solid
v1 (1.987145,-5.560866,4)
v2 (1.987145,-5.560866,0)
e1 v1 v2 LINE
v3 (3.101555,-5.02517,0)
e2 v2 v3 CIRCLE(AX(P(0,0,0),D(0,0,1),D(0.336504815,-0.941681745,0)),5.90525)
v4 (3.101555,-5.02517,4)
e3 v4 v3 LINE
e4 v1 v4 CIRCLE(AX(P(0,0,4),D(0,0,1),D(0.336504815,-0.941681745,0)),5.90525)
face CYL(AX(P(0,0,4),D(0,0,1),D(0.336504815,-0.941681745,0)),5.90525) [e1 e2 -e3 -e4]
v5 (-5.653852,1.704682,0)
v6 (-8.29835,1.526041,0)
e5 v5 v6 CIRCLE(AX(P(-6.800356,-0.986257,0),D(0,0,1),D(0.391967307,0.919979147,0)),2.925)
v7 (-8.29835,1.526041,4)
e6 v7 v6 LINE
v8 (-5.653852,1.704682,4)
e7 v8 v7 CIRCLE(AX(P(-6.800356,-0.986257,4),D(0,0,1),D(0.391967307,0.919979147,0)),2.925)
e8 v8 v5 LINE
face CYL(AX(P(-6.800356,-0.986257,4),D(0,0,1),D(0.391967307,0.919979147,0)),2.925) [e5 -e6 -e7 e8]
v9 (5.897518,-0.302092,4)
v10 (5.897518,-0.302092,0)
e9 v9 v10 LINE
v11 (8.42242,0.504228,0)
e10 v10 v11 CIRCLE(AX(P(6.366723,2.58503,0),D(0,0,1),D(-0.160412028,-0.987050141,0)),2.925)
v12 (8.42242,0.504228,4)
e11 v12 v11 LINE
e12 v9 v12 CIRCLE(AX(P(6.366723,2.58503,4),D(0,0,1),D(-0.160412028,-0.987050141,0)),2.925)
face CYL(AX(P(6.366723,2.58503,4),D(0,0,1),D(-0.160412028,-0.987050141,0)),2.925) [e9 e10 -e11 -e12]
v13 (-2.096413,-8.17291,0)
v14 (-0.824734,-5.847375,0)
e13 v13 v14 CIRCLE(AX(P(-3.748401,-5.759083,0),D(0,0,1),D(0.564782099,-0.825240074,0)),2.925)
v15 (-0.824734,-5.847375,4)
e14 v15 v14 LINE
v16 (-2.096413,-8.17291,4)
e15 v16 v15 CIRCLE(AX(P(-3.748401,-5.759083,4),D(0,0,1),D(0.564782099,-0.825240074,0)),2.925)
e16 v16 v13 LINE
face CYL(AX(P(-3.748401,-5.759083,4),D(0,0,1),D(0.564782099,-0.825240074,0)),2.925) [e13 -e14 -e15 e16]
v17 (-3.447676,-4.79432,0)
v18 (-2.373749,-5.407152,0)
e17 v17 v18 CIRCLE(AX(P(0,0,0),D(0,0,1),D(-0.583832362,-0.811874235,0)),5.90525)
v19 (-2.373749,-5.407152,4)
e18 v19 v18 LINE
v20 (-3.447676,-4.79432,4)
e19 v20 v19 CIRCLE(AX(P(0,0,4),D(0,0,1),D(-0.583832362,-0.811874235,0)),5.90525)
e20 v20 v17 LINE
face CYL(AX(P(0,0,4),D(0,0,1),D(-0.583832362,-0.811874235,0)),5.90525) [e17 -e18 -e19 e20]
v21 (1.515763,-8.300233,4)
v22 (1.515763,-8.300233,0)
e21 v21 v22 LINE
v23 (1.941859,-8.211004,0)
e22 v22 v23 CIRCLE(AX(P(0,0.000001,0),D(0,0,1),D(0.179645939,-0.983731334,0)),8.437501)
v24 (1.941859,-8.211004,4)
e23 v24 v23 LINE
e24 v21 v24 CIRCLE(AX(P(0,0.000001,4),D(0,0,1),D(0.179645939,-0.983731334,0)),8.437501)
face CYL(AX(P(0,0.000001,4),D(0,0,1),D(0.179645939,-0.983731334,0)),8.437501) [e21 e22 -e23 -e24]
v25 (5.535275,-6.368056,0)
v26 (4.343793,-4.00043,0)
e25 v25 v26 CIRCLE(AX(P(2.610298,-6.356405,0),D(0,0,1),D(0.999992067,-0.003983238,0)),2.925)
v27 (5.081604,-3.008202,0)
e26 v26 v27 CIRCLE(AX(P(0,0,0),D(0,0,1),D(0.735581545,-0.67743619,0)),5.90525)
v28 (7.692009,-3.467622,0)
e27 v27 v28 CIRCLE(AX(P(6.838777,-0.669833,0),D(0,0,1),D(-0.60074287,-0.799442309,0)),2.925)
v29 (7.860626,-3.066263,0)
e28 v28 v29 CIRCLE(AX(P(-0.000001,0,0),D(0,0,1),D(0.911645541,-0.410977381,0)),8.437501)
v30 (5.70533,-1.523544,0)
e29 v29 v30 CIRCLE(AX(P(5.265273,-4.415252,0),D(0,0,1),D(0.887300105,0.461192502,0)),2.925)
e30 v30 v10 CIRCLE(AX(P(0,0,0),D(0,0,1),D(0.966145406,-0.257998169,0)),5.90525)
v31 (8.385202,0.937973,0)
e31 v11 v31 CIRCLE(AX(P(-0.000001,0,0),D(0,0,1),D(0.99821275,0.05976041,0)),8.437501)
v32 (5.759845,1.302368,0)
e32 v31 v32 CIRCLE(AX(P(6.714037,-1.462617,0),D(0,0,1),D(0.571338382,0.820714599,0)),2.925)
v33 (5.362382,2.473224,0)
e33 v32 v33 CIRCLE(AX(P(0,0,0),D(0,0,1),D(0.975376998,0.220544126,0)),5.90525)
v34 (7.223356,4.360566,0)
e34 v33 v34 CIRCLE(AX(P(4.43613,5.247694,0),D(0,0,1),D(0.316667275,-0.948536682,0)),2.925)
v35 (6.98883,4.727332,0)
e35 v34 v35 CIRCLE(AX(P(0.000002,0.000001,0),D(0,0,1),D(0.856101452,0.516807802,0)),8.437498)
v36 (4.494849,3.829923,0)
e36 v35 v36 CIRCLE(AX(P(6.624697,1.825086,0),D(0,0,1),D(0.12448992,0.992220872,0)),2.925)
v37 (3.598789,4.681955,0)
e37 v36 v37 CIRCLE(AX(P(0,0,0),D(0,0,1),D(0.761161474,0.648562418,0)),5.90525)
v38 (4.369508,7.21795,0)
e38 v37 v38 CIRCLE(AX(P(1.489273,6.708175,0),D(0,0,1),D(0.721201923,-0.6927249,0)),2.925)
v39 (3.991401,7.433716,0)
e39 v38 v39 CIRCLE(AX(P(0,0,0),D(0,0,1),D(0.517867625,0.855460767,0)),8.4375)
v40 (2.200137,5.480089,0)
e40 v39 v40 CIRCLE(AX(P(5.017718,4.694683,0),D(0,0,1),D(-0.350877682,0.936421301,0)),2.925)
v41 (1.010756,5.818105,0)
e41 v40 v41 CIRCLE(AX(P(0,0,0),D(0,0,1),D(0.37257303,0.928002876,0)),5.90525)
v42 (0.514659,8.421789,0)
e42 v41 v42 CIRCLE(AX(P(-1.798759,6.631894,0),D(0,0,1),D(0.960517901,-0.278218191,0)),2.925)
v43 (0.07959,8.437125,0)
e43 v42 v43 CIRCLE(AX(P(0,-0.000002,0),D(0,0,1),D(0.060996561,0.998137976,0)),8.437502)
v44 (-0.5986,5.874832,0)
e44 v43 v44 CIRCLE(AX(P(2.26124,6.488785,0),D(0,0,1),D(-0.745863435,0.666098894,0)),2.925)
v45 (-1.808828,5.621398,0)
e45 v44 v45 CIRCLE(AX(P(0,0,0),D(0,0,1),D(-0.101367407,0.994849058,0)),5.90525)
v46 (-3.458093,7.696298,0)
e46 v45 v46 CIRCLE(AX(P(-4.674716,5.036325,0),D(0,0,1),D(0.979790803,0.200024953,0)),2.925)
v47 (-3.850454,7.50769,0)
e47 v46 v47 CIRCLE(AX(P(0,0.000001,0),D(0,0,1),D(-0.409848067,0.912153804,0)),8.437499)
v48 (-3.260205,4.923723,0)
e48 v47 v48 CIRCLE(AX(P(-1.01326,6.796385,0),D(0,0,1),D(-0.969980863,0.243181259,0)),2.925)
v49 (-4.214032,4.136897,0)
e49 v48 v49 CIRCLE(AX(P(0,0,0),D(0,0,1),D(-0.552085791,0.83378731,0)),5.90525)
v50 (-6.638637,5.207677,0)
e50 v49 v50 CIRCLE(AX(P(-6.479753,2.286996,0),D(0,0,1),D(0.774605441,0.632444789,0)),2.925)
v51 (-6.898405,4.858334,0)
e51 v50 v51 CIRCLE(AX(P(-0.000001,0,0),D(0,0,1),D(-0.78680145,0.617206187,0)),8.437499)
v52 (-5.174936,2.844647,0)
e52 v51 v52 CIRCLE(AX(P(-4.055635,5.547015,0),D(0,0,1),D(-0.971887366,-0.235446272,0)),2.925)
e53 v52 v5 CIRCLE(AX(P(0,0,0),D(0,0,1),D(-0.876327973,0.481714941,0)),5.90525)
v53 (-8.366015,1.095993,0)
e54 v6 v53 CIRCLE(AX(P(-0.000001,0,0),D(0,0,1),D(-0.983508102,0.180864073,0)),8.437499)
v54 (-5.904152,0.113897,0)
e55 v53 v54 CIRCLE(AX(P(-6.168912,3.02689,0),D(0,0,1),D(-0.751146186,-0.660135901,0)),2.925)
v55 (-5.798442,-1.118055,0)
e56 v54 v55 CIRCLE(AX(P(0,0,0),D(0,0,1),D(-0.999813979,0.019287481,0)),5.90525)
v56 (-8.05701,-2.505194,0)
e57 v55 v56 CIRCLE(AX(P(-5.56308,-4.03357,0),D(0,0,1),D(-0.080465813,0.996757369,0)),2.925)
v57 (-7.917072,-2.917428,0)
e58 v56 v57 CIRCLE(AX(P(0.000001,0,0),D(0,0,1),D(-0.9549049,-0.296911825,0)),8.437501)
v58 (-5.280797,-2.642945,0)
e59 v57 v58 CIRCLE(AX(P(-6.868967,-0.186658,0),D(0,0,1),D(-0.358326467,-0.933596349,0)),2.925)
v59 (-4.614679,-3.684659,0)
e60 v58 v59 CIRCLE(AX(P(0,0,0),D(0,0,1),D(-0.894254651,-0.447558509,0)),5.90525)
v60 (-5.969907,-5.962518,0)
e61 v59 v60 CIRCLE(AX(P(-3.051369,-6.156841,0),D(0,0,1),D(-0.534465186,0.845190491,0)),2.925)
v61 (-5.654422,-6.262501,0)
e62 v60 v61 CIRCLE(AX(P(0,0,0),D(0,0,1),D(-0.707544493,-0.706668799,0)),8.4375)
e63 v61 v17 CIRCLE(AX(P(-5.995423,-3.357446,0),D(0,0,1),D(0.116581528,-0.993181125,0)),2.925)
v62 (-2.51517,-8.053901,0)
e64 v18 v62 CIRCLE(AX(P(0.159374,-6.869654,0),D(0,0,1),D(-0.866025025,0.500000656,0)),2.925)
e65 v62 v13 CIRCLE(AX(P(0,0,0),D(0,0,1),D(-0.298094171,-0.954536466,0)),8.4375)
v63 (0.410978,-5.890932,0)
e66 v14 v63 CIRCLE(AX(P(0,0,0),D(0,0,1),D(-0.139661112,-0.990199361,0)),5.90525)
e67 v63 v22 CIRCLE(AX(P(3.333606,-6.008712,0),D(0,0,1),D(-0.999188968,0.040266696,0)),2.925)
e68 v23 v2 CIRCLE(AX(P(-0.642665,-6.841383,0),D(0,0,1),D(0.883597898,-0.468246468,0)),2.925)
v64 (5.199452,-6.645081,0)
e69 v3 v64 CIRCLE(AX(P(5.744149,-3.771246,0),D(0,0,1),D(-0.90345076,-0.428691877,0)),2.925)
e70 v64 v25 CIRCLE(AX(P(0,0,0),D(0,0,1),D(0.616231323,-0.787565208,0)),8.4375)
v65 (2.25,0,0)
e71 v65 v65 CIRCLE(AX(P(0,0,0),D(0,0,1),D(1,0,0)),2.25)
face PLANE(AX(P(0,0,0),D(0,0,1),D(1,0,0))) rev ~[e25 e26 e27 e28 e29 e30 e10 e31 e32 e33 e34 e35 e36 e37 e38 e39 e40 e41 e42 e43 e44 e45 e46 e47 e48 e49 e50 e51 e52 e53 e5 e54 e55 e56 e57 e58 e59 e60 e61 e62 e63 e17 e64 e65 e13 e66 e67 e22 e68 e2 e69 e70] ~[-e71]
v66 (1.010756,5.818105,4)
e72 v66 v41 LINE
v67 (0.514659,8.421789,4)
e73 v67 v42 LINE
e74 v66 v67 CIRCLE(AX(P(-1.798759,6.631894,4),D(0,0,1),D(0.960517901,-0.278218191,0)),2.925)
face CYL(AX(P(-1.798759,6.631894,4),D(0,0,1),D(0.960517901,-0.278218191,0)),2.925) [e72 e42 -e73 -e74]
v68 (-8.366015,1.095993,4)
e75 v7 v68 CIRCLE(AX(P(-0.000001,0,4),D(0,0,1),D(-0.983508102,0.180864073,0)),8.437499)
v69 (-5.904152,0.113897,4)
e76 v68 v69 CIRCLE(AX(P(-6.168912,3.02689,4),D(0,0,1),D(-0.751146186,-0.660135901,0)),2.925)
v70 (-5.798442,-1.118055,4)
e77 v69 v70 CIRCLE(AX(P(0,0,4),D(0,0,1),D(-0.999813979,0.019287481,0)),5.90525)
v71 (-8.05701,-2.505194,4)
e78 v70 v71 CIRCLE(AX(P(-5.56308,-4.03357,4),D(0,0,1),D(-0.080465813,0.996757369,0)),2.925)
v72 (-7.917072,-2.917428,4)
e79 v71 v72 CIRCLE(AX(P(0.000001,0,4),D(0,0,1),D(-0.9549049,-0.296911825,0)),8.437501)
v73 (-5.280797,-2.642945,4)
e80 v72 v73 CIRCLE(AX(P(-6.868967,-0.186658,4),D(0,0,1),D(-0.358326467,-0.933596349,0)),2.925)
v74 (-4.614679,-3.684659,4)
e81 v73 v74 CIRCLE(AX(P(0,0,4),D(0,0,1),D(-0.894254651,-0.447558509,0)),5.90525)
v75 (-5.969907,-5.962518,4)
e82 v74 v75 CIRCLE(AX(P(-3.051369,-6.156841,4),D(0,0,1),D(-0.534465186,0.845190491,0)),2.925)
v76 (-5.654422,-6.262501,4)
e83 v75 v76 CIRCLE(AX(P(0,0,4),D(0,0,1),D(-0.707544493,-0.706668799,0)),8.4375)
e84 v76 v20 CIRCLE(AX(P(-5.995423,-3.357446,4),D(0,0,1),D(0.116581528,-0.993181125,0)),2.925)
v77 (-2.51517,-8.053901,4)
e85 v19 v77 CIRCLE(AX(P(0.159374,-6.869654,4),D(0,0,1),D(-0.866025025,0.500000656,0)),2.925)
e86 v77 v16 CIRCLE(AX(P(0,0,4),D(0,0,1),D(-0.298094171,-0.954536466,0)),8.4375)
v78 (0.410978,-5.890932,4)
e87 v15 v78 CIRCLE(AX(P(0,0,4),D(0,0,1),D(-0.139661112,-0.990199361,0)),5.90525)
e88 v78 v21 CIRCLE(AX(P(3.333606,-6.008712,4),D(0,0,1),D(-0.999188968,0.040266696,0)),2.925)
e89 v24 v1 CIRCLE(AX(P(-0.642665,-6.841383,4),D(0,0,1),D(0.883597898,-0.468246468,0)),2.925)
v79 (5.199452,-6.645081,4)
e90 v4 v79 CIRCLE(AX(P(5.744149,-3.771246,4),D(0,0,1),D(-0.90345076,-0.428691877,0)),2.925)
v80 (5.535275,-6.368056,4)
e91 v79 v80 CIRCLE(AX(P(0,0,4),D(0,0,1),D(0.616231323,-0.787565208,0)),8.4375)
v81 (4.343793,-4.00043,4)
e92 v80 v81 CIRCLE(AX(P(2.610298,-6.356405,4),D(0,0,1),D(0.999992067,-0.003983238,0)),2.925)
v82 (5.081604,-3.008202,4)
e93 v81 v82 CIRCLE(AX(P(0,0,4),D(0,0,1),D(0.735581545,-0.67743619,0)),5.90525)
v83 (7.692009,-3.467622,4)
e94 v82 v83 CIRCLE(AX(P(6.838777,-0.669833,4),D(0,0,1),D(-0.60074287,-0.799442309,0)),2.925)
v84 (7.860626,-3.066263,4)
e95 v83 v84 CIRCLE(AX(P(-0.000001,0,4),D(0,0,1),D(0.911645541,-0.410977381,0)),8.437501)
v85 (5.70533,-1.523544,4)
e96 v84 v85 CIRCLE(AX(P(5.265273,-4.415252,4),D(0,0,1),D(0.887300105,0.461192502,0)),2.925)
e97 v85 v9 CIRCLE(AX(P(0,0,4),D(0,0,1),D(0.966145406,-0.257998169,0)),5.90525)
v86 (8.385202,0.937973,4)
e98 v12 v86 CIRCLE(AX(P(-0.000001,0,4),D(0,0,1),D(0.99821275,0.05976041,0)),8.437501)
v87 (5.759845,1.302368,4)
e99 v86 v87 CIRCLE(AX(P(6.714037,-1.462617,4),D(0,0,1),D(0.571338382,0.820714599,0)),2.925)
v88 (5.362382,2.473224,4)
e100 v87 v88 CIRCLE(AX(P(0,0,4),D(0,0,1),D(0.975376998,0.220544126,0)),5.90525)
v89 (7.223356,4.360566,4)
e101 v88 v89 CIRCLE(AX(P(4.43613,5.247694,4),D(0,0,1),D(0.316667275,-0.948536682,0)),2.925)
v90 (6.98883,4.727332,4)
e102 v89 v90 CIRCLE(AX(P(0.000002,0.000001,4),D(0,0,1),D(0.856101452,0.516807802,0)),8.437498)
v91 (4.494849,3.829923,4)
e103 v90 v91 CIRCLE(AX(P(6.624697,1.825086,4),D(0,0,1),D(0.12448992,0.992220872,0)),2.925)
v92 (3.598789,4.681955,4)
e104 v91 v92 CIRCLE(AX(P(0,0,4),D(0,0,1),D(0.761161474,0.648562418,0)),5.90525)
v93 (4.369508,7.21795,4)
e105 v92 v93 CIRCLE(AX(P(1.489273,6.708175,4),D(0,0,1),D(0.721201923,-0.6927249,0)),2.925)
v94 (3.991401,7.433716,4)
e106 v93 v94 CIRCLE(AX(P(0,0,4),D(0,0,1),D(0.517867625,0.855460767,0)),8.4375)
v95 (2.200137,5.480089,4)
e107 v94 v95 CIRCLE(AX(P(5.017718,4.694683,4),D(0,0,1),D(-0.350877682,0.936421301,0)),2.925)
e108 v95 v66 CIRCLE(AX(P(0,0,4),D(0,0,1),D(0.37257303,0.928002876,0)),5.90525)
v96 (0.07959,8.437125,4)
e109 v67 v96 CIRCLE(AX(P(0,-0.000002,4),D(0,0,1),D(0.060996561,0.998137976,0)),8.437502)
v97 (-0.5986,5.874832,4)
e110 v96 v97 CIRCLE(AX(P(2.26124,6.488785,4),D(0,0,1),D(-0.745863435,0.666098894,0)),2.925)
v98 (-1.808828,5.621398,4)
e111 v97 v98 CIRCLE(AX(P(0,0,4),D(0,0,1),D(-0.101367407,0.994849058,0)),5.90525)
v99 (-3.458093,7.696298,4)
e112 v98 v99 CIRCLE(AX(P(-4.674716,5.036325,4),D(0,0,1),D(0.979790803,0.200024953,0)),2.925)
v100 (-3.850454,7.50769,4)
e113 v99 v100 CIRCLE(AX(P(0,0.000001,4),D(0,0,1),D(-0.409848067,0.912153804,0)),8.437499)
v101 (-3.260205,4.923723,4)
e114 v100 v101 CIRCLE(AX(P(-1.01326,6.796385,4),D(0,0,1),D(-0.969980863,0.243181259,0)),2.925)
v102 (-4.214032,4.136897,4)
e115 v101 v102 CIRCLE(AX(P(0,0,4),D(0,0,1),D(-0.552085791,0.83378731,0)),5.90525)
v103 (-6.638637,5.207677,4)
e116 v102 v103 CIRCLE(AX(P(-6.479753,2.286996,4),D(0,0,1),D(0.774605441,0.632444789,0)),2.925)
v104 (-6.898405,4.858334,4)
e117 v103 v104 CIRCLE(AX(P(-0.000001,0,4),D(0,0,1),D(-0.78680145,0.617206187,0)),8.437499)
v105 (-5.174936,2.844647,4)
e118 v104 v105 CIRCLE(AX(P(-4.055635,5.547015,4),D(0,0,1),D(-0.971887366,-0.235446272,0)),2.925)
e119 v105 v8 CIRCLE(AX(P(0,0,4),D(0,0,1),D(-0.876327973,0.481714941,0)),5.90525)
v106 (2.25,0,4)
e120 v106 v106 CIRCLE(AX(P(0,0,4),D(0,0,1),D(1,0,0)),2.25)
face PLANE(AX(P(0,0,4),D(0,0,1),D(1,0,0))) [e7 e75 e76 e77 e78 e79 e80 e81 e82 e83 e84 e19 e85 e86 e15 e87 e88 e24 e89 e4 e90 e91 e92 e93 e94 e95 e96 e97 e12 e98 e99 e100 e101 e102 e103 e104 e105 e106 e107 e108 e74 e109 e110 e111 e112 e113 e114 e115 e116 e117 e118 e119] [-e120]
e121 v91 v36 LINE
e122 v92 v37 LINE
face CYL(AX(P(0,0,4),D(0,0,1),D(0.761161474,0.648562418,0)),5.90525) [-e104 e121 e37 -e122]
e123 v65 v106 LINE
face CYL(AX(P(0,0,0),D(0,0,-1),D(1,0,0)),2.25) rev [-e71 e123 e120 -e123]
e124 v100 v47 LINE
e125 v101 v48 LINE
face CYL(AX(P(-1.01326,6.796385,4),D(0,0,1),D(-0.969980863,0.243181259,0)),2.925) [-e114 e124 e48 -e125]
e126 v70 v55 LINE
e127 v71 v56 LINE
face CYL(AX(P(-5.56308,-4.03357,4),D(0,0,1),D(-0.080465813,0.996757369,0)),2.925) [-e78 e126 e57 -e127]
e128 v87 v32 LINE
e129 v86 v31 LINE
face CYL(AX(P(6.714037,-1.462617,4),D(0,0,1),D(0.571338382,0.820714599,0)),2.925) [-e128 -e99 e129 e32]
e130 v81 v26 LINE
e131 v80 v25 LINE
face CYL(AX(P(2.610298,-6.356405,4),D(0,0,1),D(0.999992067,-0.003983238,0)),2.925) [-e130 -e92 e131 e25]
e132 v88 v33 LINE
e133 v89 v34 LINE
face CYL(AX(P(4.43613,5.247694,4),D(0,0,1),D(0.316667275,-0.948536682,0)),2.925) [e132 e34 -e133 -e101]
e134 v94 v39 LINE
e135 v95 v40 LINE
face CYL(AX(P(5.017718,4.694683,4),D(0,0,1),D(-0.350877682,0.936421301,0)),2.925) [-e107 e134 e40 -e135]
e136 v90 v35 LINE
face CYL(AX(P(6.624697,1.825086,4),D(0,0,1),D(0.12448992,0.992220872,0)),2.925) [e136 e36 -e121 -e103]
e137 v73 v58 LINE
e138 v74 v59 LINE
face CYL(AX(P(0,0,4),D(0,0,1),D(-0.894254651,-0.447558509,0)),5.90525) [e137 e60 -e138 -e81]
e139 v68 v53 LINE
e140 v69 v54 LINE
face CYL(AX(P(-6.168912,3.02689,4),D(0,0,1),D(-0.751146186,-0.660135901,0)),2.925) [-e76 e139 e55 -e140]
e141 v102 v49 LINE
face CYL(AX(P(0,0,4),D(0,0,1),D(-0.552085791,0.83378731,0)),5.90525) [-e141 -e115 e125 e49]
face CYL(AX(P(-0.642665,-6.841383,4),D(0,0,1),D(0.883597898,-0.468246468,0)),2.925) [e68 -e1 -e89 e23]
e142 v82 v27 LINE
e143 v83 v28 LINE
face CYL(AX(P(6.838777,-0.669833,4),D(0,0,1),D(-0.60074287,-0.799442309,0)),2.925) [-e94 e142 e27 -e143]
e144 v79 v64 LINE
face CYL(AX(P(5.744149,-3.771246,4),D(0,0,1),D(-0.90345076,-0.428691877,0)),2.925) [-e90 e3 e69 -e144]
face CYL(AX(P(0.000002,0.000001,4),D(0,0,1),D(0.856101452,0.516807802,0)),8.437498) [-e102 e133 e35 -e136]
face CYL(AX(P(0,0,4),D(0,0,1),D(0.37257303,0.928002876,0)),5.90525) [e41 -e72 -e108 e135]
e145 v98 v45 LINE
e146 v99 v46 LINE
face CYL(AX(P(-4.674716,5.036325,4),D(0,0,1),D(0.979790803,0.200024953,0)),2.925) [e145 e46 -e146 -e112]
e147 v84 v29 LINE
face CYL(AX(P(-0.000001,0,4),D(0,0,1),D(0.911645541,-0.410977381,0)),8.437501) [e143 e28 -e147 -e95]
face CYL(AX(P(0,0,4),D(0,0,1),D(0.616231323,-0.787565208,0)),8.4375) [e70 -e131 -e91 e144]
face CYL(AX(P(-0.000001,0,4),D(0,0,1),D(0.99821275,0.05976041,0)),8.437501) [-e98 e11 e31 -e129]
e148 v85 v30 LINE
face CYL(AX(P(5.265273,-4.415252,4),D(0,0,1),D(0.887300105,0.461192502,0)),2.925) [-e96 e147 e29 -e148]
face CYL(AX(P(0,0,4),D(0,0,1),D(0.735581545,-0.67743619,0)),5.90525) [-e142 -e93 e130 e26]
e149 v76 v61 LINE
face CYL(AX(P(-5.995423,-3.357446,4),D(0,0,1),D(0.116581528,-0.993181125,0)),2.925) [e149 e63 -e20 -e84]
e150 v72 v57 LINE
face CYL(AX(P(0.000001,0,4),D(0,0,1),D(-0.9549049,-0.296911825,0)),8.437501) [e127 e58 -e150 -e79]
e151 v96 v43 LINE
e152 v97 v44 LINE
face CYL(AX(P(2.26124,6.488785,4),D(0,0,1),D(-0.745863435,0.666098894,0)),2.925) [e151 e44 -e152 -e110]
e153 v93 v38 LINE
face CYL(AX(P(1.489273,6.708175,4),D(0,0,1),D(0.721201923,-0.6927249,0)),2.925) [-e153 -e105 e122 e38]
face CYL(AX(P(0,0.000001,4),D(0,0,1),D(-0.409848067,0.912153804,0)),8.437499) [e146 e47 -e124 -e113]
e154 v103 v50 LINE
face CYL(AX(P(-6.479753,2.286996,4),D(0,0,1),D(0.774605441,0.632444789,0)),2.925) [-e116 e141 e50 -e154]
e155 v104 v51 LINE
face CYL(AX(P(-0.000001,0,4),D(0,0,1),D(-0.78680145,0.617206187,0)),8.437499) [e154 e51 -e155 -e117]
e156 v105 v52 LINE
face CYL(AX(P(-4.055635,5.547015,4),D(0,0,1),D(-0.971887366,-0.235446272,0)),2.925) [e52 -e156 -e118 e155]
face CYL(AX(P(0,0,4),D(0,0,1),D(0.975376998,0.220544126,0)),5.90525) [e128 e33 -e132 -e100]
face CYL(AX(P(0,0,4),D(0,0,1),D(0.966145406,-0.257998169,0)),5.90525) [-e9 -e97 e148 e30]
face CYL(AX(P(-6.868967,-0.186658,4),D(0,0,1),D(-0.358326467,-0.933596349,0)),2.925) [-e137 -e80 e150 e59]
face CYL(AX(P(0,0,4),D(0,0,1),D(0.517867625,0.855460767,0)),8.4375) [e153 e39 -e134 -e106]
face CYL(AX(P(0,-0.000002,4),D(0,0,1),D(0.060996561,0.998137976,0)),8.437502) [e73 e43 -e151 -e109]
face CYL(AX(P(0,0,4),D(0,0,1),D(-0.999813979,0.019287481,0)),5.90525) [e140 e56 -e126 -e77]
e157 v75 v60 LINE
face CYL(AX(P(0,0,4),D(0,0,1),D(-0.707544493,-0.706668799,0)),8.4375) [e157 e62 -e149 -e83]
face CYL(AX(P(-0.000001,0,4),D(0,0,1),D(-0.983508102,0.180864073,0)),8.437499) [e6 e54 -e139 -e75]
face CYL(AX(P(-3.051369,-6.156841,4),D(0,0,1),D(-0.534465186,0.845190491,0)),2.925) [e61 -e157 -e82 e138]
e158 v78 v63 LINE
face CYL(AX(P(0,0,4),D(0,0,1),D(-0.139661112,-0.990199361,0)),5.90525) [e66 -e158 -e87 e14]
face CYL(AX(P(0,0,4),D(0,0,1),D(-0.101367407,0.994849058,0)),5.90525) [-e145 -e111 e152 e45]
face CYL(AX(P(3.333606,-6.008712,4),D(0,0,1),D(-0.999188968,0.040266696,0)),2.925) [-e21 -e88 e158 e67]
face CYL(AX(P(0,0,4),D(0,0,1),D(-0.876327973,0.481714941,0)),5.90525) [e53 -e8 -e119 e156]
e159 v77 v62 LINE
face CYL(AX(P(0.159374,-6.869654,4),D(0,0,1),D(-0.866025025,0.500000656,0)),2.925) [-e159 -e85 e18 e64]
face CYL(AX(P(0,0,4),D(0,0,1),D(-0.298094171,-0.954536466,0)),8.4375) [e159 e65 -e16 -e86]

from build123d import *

# Parameters (mm, degrees)
SKETCH1_R           = 9.5
SKETCH1_R_2         = 2.25
BOSS_EXTRUDE1_DEPTH = 4
SKETCH2_R           = 9.5
CUT_EXTRUDE1_DEPTH  = 15.017845769


with BuildPart() as part:
    # Sketch1 → Boss-Extrude1 (new body)
    with BuildSketch(Plane.XY):
        Circle(SKETCH1_R)
        Circle(SKETCH1_R_2, mode=Mode.SUBTRACT)
    extrude(amount=BOSS_EXTRUDE1_DEPTH)

    # Sketch2 → Cut-Extrude1 (cut, through all)
    with BuildSketch(Plane.XY.offset(4)):
        Circle(SKETCH2_R)
        with BuildLine():
            ThreePointArc((5.362381822, 2.473224364), (6.518915118, 3.194006906), (7.223355975, 4.36056587))
            ThreePointArc((7.223355975, 4.36056587), (7.108458656, 4.54546167), (6.988829661, 4.727331828))
            ThreePointArc((6.988829661, 4.727331828), (5.634356921, 4.57733072), (4.4948488, 3.829923215))
            ThreePointArc((4.4948488, 3.829923215), (4.069180633, 4.279456337), (3.598788625, 4.681954506))
            ThreePointArc((3.598788625, 4.681954506), (4.287883651, 5.857643573), (4.369508071, 7.217950226))
            ThreePointArc((4.369508071, 7.217950226), (4.181846184, 7.32827188), (3.991400694, 7.433715542))
            ThreePointArc((3.991400694, 7.433715542), (2.861783635, 6.671441288), (2.200136889, 5.48008898))
            ThreePointArc((2.200136889, 5.48008898), (1.614317987, 5.680312931), (1.010756324, 5.818105294))
            ThreePointArc((1.010756324, 5.818105294), (1.074549714, 7.179364689), (0.514658525, 8.421789172))
            ThreePointArc((0.514658525, 8.421789172), (0.297223149, 8.432263317), (0.079589928, 8.437124611))
            ThreePointArc((0.079589928, 8.437124611), (-0.566389794, 7.237205057), (-0.598599868, 5.874832403))
            ThreePointArc((-0.598599868, 5.874832403), (-1.210365455, 5.779878288), (-1.80882807, 5.621398276))
            ThreePointArc((-1.80882807, 5.621398276), (-2.384950613, 6.856379876), (-3.458093086, 7.696297711))
            ThreePointArc((-3.458093086, 7.696297711), (-3.655490128, 7.604524849), (-3.85045393, 7.50769011))
            ThreePointArc((-3.85045393, 7.50769011), (-3.864810147, 6.145012365), (-3.26020461, 4.923722521))
            ThreePointArc((-3.26020461, 4.923722521), (-3.757768757, 4.555343184), (-4.214031752, 4.136896657))
            ThreePointArc((-4.214031752, 4.136896657), (-5.298087496, 4.962681062), (-6.638637245, 5.207677196))
            ThreePointArc((-6.638637245, 5.207677196), (-6.77077467, 5.034681382), (-6.898405196, 4.858334282))
            ThreePointArc((-6.898405196, 4.858334282), (-6.277849071, 3.645071395), (-5.174935765, 2.844647147))
            ThreePointArc((-5.174935765, 2.844647147), (-5.444312524, 2.287233855), (-5.653851544, 1.70468187))
            ThreePointArc((-5.653851544, 1.70468187), (-6.997496382, 1.932091823), (-8.298349616, 1.526040594))
            ThreePointArc((-8.298349616, 1.526040594), (-8.334956332, 1.311453085), (-8.366014967, 1.09599262))
            ThreePointArc((-8.366014967, 1.09599262), (-7.252708429, 0.310088497), (-5.904151501, 0.113897393))
            ThreePointArc((-5.904151501, 0.113897393), (-5.883629902, -0.504853187), (-5.798442084, -1.118054991))
            ThreePointArc((-5.798442084, -1.118054991), (-7.093863177, -1.541116368), (-8.057010096, -2.505193517))
            ThreePointArc((-8.057010096, -2.505193517), (-7.989699945, -2.712213309), (-7.91707153, -2.917427744))
            ThreePointArc((-7.91707153, -2.917427744), (-6.566059691, -3.095931939), (-5.280797281, -2.64294488))
            ThreePointArc((-5.280797281, -2.64294488), (-4.975078575, -3.181284447), (-4.614679421, -3.684658927))
            ThreePointArc((-4.614679421, -3.684658927), (-5.565111408, -4.661273372), (-5.969906661, -5.962517984))
            ThreePointArc((-5.969906661, -5.962517984), (-5.814099587, -6.11454432), (-5.654422416, -6.26250057))
            ThreePointArc((-5.654422416, -6.26250057), (-4.375205807, -5.792711678), (-3.447676044, -4.794320333))
            ThreePointArc((-3.447676044, -4.794320333), (-2.926796703, -5.12892178), (-2.373749315, -5.407151907))
            ThreePointArc((-2.373749315, -5.407151907), (-2.761459682, -6.713588821), (-2.515169554, -8.053901437))
            ThreePointArc((-2.515169554, -8.053901437), (-2.306559081, -8.116106915), (-2.096413271, -8.172909987))
            ThreePointArc((-2.096413271, -8.172909987), (-1.182045, -7.162450981), (-0.824733775, -5.847374775))
            ThreePointArc((-0.824733775, -5.847374775), (-0.208020978, -5.901584943), (0.410978151, -5.89093155))
            ThreePointArc((0.410978151, -5.89093155), (0.674809178, -7.227901978), (1.515762586, -8.300233131))
            ThreePointArc((1.515762586, -8.300233131), (1.729386313, -8.258367225), (1.941858891, -8.21100422))
            ThreePointArc((1.941858891, -8.21100422), (2.281908072, -6.891359081), (1.987145063, -5.560866125))
            ThreePointArc((1.987145063, -5.560866125), (2.558409847, -5.322266117), (3.101555477, -5.025169767))
            ThreePointArc((3.101555477, -5.025169767), (3.956487387, -6.086389898), (5.199451785, -6.645081443))
            ThreePointArc((5.199451785, -6.645081443), (5.369150144, -6.508735129), (5.535274583, -6.368056339))
            ThreePointArc((5.535274583, -6.368056339), (5.223103504, -5.041539866), (4.343792915, -4.000430061))
            ThreePointArc((4.343792915, -4.000430061), (4.738739807, -3.523680264), (5.08160382, -3.008202151))
            ThreePointArc((5.08160382, -3.008202151), (6.331782017, -3.550559241), (7.69200924, -3.467621679))
            ThreePointArc((7.69200924, -3.467621679), (7.778906383, -3.268030253), (7.860625575, -3.066263495))
            ThreePointArc((7.860625575, -3.066263495), (6.967748869, -2.036764624), (5.705330158, -1.523543681))
            ThreePointArc((5.705330158, -1.523543681), (5.833481586, -0.917861728), (5.897517968, -0.302091675))
            ThreePointArc((5.897517968, -0.302091675), (7.256541693, -0.201338251), (8.422420077, 0.504228423))
            ThreePointArc((8.422420077, 0.504228423), (8.406608915, 0.72134097), (8.385201978, 0.937973363))
            ThreePointArc((8.385201978, 0.937973363), (7.116166938, 1.434608847), (5.759845019, 1.302368196))
            ThreePointArc((5.759845019, 1.302368196), (5.591843034, 1.898227869), (5.362381822, 2.473224364))
        make_face(mode=Mode.SUBTRACT)
    extrude(amount=-CUT_EXTRUDE1_DEPTH, mode=Mode.SUBTRACT)


solid = part.part
